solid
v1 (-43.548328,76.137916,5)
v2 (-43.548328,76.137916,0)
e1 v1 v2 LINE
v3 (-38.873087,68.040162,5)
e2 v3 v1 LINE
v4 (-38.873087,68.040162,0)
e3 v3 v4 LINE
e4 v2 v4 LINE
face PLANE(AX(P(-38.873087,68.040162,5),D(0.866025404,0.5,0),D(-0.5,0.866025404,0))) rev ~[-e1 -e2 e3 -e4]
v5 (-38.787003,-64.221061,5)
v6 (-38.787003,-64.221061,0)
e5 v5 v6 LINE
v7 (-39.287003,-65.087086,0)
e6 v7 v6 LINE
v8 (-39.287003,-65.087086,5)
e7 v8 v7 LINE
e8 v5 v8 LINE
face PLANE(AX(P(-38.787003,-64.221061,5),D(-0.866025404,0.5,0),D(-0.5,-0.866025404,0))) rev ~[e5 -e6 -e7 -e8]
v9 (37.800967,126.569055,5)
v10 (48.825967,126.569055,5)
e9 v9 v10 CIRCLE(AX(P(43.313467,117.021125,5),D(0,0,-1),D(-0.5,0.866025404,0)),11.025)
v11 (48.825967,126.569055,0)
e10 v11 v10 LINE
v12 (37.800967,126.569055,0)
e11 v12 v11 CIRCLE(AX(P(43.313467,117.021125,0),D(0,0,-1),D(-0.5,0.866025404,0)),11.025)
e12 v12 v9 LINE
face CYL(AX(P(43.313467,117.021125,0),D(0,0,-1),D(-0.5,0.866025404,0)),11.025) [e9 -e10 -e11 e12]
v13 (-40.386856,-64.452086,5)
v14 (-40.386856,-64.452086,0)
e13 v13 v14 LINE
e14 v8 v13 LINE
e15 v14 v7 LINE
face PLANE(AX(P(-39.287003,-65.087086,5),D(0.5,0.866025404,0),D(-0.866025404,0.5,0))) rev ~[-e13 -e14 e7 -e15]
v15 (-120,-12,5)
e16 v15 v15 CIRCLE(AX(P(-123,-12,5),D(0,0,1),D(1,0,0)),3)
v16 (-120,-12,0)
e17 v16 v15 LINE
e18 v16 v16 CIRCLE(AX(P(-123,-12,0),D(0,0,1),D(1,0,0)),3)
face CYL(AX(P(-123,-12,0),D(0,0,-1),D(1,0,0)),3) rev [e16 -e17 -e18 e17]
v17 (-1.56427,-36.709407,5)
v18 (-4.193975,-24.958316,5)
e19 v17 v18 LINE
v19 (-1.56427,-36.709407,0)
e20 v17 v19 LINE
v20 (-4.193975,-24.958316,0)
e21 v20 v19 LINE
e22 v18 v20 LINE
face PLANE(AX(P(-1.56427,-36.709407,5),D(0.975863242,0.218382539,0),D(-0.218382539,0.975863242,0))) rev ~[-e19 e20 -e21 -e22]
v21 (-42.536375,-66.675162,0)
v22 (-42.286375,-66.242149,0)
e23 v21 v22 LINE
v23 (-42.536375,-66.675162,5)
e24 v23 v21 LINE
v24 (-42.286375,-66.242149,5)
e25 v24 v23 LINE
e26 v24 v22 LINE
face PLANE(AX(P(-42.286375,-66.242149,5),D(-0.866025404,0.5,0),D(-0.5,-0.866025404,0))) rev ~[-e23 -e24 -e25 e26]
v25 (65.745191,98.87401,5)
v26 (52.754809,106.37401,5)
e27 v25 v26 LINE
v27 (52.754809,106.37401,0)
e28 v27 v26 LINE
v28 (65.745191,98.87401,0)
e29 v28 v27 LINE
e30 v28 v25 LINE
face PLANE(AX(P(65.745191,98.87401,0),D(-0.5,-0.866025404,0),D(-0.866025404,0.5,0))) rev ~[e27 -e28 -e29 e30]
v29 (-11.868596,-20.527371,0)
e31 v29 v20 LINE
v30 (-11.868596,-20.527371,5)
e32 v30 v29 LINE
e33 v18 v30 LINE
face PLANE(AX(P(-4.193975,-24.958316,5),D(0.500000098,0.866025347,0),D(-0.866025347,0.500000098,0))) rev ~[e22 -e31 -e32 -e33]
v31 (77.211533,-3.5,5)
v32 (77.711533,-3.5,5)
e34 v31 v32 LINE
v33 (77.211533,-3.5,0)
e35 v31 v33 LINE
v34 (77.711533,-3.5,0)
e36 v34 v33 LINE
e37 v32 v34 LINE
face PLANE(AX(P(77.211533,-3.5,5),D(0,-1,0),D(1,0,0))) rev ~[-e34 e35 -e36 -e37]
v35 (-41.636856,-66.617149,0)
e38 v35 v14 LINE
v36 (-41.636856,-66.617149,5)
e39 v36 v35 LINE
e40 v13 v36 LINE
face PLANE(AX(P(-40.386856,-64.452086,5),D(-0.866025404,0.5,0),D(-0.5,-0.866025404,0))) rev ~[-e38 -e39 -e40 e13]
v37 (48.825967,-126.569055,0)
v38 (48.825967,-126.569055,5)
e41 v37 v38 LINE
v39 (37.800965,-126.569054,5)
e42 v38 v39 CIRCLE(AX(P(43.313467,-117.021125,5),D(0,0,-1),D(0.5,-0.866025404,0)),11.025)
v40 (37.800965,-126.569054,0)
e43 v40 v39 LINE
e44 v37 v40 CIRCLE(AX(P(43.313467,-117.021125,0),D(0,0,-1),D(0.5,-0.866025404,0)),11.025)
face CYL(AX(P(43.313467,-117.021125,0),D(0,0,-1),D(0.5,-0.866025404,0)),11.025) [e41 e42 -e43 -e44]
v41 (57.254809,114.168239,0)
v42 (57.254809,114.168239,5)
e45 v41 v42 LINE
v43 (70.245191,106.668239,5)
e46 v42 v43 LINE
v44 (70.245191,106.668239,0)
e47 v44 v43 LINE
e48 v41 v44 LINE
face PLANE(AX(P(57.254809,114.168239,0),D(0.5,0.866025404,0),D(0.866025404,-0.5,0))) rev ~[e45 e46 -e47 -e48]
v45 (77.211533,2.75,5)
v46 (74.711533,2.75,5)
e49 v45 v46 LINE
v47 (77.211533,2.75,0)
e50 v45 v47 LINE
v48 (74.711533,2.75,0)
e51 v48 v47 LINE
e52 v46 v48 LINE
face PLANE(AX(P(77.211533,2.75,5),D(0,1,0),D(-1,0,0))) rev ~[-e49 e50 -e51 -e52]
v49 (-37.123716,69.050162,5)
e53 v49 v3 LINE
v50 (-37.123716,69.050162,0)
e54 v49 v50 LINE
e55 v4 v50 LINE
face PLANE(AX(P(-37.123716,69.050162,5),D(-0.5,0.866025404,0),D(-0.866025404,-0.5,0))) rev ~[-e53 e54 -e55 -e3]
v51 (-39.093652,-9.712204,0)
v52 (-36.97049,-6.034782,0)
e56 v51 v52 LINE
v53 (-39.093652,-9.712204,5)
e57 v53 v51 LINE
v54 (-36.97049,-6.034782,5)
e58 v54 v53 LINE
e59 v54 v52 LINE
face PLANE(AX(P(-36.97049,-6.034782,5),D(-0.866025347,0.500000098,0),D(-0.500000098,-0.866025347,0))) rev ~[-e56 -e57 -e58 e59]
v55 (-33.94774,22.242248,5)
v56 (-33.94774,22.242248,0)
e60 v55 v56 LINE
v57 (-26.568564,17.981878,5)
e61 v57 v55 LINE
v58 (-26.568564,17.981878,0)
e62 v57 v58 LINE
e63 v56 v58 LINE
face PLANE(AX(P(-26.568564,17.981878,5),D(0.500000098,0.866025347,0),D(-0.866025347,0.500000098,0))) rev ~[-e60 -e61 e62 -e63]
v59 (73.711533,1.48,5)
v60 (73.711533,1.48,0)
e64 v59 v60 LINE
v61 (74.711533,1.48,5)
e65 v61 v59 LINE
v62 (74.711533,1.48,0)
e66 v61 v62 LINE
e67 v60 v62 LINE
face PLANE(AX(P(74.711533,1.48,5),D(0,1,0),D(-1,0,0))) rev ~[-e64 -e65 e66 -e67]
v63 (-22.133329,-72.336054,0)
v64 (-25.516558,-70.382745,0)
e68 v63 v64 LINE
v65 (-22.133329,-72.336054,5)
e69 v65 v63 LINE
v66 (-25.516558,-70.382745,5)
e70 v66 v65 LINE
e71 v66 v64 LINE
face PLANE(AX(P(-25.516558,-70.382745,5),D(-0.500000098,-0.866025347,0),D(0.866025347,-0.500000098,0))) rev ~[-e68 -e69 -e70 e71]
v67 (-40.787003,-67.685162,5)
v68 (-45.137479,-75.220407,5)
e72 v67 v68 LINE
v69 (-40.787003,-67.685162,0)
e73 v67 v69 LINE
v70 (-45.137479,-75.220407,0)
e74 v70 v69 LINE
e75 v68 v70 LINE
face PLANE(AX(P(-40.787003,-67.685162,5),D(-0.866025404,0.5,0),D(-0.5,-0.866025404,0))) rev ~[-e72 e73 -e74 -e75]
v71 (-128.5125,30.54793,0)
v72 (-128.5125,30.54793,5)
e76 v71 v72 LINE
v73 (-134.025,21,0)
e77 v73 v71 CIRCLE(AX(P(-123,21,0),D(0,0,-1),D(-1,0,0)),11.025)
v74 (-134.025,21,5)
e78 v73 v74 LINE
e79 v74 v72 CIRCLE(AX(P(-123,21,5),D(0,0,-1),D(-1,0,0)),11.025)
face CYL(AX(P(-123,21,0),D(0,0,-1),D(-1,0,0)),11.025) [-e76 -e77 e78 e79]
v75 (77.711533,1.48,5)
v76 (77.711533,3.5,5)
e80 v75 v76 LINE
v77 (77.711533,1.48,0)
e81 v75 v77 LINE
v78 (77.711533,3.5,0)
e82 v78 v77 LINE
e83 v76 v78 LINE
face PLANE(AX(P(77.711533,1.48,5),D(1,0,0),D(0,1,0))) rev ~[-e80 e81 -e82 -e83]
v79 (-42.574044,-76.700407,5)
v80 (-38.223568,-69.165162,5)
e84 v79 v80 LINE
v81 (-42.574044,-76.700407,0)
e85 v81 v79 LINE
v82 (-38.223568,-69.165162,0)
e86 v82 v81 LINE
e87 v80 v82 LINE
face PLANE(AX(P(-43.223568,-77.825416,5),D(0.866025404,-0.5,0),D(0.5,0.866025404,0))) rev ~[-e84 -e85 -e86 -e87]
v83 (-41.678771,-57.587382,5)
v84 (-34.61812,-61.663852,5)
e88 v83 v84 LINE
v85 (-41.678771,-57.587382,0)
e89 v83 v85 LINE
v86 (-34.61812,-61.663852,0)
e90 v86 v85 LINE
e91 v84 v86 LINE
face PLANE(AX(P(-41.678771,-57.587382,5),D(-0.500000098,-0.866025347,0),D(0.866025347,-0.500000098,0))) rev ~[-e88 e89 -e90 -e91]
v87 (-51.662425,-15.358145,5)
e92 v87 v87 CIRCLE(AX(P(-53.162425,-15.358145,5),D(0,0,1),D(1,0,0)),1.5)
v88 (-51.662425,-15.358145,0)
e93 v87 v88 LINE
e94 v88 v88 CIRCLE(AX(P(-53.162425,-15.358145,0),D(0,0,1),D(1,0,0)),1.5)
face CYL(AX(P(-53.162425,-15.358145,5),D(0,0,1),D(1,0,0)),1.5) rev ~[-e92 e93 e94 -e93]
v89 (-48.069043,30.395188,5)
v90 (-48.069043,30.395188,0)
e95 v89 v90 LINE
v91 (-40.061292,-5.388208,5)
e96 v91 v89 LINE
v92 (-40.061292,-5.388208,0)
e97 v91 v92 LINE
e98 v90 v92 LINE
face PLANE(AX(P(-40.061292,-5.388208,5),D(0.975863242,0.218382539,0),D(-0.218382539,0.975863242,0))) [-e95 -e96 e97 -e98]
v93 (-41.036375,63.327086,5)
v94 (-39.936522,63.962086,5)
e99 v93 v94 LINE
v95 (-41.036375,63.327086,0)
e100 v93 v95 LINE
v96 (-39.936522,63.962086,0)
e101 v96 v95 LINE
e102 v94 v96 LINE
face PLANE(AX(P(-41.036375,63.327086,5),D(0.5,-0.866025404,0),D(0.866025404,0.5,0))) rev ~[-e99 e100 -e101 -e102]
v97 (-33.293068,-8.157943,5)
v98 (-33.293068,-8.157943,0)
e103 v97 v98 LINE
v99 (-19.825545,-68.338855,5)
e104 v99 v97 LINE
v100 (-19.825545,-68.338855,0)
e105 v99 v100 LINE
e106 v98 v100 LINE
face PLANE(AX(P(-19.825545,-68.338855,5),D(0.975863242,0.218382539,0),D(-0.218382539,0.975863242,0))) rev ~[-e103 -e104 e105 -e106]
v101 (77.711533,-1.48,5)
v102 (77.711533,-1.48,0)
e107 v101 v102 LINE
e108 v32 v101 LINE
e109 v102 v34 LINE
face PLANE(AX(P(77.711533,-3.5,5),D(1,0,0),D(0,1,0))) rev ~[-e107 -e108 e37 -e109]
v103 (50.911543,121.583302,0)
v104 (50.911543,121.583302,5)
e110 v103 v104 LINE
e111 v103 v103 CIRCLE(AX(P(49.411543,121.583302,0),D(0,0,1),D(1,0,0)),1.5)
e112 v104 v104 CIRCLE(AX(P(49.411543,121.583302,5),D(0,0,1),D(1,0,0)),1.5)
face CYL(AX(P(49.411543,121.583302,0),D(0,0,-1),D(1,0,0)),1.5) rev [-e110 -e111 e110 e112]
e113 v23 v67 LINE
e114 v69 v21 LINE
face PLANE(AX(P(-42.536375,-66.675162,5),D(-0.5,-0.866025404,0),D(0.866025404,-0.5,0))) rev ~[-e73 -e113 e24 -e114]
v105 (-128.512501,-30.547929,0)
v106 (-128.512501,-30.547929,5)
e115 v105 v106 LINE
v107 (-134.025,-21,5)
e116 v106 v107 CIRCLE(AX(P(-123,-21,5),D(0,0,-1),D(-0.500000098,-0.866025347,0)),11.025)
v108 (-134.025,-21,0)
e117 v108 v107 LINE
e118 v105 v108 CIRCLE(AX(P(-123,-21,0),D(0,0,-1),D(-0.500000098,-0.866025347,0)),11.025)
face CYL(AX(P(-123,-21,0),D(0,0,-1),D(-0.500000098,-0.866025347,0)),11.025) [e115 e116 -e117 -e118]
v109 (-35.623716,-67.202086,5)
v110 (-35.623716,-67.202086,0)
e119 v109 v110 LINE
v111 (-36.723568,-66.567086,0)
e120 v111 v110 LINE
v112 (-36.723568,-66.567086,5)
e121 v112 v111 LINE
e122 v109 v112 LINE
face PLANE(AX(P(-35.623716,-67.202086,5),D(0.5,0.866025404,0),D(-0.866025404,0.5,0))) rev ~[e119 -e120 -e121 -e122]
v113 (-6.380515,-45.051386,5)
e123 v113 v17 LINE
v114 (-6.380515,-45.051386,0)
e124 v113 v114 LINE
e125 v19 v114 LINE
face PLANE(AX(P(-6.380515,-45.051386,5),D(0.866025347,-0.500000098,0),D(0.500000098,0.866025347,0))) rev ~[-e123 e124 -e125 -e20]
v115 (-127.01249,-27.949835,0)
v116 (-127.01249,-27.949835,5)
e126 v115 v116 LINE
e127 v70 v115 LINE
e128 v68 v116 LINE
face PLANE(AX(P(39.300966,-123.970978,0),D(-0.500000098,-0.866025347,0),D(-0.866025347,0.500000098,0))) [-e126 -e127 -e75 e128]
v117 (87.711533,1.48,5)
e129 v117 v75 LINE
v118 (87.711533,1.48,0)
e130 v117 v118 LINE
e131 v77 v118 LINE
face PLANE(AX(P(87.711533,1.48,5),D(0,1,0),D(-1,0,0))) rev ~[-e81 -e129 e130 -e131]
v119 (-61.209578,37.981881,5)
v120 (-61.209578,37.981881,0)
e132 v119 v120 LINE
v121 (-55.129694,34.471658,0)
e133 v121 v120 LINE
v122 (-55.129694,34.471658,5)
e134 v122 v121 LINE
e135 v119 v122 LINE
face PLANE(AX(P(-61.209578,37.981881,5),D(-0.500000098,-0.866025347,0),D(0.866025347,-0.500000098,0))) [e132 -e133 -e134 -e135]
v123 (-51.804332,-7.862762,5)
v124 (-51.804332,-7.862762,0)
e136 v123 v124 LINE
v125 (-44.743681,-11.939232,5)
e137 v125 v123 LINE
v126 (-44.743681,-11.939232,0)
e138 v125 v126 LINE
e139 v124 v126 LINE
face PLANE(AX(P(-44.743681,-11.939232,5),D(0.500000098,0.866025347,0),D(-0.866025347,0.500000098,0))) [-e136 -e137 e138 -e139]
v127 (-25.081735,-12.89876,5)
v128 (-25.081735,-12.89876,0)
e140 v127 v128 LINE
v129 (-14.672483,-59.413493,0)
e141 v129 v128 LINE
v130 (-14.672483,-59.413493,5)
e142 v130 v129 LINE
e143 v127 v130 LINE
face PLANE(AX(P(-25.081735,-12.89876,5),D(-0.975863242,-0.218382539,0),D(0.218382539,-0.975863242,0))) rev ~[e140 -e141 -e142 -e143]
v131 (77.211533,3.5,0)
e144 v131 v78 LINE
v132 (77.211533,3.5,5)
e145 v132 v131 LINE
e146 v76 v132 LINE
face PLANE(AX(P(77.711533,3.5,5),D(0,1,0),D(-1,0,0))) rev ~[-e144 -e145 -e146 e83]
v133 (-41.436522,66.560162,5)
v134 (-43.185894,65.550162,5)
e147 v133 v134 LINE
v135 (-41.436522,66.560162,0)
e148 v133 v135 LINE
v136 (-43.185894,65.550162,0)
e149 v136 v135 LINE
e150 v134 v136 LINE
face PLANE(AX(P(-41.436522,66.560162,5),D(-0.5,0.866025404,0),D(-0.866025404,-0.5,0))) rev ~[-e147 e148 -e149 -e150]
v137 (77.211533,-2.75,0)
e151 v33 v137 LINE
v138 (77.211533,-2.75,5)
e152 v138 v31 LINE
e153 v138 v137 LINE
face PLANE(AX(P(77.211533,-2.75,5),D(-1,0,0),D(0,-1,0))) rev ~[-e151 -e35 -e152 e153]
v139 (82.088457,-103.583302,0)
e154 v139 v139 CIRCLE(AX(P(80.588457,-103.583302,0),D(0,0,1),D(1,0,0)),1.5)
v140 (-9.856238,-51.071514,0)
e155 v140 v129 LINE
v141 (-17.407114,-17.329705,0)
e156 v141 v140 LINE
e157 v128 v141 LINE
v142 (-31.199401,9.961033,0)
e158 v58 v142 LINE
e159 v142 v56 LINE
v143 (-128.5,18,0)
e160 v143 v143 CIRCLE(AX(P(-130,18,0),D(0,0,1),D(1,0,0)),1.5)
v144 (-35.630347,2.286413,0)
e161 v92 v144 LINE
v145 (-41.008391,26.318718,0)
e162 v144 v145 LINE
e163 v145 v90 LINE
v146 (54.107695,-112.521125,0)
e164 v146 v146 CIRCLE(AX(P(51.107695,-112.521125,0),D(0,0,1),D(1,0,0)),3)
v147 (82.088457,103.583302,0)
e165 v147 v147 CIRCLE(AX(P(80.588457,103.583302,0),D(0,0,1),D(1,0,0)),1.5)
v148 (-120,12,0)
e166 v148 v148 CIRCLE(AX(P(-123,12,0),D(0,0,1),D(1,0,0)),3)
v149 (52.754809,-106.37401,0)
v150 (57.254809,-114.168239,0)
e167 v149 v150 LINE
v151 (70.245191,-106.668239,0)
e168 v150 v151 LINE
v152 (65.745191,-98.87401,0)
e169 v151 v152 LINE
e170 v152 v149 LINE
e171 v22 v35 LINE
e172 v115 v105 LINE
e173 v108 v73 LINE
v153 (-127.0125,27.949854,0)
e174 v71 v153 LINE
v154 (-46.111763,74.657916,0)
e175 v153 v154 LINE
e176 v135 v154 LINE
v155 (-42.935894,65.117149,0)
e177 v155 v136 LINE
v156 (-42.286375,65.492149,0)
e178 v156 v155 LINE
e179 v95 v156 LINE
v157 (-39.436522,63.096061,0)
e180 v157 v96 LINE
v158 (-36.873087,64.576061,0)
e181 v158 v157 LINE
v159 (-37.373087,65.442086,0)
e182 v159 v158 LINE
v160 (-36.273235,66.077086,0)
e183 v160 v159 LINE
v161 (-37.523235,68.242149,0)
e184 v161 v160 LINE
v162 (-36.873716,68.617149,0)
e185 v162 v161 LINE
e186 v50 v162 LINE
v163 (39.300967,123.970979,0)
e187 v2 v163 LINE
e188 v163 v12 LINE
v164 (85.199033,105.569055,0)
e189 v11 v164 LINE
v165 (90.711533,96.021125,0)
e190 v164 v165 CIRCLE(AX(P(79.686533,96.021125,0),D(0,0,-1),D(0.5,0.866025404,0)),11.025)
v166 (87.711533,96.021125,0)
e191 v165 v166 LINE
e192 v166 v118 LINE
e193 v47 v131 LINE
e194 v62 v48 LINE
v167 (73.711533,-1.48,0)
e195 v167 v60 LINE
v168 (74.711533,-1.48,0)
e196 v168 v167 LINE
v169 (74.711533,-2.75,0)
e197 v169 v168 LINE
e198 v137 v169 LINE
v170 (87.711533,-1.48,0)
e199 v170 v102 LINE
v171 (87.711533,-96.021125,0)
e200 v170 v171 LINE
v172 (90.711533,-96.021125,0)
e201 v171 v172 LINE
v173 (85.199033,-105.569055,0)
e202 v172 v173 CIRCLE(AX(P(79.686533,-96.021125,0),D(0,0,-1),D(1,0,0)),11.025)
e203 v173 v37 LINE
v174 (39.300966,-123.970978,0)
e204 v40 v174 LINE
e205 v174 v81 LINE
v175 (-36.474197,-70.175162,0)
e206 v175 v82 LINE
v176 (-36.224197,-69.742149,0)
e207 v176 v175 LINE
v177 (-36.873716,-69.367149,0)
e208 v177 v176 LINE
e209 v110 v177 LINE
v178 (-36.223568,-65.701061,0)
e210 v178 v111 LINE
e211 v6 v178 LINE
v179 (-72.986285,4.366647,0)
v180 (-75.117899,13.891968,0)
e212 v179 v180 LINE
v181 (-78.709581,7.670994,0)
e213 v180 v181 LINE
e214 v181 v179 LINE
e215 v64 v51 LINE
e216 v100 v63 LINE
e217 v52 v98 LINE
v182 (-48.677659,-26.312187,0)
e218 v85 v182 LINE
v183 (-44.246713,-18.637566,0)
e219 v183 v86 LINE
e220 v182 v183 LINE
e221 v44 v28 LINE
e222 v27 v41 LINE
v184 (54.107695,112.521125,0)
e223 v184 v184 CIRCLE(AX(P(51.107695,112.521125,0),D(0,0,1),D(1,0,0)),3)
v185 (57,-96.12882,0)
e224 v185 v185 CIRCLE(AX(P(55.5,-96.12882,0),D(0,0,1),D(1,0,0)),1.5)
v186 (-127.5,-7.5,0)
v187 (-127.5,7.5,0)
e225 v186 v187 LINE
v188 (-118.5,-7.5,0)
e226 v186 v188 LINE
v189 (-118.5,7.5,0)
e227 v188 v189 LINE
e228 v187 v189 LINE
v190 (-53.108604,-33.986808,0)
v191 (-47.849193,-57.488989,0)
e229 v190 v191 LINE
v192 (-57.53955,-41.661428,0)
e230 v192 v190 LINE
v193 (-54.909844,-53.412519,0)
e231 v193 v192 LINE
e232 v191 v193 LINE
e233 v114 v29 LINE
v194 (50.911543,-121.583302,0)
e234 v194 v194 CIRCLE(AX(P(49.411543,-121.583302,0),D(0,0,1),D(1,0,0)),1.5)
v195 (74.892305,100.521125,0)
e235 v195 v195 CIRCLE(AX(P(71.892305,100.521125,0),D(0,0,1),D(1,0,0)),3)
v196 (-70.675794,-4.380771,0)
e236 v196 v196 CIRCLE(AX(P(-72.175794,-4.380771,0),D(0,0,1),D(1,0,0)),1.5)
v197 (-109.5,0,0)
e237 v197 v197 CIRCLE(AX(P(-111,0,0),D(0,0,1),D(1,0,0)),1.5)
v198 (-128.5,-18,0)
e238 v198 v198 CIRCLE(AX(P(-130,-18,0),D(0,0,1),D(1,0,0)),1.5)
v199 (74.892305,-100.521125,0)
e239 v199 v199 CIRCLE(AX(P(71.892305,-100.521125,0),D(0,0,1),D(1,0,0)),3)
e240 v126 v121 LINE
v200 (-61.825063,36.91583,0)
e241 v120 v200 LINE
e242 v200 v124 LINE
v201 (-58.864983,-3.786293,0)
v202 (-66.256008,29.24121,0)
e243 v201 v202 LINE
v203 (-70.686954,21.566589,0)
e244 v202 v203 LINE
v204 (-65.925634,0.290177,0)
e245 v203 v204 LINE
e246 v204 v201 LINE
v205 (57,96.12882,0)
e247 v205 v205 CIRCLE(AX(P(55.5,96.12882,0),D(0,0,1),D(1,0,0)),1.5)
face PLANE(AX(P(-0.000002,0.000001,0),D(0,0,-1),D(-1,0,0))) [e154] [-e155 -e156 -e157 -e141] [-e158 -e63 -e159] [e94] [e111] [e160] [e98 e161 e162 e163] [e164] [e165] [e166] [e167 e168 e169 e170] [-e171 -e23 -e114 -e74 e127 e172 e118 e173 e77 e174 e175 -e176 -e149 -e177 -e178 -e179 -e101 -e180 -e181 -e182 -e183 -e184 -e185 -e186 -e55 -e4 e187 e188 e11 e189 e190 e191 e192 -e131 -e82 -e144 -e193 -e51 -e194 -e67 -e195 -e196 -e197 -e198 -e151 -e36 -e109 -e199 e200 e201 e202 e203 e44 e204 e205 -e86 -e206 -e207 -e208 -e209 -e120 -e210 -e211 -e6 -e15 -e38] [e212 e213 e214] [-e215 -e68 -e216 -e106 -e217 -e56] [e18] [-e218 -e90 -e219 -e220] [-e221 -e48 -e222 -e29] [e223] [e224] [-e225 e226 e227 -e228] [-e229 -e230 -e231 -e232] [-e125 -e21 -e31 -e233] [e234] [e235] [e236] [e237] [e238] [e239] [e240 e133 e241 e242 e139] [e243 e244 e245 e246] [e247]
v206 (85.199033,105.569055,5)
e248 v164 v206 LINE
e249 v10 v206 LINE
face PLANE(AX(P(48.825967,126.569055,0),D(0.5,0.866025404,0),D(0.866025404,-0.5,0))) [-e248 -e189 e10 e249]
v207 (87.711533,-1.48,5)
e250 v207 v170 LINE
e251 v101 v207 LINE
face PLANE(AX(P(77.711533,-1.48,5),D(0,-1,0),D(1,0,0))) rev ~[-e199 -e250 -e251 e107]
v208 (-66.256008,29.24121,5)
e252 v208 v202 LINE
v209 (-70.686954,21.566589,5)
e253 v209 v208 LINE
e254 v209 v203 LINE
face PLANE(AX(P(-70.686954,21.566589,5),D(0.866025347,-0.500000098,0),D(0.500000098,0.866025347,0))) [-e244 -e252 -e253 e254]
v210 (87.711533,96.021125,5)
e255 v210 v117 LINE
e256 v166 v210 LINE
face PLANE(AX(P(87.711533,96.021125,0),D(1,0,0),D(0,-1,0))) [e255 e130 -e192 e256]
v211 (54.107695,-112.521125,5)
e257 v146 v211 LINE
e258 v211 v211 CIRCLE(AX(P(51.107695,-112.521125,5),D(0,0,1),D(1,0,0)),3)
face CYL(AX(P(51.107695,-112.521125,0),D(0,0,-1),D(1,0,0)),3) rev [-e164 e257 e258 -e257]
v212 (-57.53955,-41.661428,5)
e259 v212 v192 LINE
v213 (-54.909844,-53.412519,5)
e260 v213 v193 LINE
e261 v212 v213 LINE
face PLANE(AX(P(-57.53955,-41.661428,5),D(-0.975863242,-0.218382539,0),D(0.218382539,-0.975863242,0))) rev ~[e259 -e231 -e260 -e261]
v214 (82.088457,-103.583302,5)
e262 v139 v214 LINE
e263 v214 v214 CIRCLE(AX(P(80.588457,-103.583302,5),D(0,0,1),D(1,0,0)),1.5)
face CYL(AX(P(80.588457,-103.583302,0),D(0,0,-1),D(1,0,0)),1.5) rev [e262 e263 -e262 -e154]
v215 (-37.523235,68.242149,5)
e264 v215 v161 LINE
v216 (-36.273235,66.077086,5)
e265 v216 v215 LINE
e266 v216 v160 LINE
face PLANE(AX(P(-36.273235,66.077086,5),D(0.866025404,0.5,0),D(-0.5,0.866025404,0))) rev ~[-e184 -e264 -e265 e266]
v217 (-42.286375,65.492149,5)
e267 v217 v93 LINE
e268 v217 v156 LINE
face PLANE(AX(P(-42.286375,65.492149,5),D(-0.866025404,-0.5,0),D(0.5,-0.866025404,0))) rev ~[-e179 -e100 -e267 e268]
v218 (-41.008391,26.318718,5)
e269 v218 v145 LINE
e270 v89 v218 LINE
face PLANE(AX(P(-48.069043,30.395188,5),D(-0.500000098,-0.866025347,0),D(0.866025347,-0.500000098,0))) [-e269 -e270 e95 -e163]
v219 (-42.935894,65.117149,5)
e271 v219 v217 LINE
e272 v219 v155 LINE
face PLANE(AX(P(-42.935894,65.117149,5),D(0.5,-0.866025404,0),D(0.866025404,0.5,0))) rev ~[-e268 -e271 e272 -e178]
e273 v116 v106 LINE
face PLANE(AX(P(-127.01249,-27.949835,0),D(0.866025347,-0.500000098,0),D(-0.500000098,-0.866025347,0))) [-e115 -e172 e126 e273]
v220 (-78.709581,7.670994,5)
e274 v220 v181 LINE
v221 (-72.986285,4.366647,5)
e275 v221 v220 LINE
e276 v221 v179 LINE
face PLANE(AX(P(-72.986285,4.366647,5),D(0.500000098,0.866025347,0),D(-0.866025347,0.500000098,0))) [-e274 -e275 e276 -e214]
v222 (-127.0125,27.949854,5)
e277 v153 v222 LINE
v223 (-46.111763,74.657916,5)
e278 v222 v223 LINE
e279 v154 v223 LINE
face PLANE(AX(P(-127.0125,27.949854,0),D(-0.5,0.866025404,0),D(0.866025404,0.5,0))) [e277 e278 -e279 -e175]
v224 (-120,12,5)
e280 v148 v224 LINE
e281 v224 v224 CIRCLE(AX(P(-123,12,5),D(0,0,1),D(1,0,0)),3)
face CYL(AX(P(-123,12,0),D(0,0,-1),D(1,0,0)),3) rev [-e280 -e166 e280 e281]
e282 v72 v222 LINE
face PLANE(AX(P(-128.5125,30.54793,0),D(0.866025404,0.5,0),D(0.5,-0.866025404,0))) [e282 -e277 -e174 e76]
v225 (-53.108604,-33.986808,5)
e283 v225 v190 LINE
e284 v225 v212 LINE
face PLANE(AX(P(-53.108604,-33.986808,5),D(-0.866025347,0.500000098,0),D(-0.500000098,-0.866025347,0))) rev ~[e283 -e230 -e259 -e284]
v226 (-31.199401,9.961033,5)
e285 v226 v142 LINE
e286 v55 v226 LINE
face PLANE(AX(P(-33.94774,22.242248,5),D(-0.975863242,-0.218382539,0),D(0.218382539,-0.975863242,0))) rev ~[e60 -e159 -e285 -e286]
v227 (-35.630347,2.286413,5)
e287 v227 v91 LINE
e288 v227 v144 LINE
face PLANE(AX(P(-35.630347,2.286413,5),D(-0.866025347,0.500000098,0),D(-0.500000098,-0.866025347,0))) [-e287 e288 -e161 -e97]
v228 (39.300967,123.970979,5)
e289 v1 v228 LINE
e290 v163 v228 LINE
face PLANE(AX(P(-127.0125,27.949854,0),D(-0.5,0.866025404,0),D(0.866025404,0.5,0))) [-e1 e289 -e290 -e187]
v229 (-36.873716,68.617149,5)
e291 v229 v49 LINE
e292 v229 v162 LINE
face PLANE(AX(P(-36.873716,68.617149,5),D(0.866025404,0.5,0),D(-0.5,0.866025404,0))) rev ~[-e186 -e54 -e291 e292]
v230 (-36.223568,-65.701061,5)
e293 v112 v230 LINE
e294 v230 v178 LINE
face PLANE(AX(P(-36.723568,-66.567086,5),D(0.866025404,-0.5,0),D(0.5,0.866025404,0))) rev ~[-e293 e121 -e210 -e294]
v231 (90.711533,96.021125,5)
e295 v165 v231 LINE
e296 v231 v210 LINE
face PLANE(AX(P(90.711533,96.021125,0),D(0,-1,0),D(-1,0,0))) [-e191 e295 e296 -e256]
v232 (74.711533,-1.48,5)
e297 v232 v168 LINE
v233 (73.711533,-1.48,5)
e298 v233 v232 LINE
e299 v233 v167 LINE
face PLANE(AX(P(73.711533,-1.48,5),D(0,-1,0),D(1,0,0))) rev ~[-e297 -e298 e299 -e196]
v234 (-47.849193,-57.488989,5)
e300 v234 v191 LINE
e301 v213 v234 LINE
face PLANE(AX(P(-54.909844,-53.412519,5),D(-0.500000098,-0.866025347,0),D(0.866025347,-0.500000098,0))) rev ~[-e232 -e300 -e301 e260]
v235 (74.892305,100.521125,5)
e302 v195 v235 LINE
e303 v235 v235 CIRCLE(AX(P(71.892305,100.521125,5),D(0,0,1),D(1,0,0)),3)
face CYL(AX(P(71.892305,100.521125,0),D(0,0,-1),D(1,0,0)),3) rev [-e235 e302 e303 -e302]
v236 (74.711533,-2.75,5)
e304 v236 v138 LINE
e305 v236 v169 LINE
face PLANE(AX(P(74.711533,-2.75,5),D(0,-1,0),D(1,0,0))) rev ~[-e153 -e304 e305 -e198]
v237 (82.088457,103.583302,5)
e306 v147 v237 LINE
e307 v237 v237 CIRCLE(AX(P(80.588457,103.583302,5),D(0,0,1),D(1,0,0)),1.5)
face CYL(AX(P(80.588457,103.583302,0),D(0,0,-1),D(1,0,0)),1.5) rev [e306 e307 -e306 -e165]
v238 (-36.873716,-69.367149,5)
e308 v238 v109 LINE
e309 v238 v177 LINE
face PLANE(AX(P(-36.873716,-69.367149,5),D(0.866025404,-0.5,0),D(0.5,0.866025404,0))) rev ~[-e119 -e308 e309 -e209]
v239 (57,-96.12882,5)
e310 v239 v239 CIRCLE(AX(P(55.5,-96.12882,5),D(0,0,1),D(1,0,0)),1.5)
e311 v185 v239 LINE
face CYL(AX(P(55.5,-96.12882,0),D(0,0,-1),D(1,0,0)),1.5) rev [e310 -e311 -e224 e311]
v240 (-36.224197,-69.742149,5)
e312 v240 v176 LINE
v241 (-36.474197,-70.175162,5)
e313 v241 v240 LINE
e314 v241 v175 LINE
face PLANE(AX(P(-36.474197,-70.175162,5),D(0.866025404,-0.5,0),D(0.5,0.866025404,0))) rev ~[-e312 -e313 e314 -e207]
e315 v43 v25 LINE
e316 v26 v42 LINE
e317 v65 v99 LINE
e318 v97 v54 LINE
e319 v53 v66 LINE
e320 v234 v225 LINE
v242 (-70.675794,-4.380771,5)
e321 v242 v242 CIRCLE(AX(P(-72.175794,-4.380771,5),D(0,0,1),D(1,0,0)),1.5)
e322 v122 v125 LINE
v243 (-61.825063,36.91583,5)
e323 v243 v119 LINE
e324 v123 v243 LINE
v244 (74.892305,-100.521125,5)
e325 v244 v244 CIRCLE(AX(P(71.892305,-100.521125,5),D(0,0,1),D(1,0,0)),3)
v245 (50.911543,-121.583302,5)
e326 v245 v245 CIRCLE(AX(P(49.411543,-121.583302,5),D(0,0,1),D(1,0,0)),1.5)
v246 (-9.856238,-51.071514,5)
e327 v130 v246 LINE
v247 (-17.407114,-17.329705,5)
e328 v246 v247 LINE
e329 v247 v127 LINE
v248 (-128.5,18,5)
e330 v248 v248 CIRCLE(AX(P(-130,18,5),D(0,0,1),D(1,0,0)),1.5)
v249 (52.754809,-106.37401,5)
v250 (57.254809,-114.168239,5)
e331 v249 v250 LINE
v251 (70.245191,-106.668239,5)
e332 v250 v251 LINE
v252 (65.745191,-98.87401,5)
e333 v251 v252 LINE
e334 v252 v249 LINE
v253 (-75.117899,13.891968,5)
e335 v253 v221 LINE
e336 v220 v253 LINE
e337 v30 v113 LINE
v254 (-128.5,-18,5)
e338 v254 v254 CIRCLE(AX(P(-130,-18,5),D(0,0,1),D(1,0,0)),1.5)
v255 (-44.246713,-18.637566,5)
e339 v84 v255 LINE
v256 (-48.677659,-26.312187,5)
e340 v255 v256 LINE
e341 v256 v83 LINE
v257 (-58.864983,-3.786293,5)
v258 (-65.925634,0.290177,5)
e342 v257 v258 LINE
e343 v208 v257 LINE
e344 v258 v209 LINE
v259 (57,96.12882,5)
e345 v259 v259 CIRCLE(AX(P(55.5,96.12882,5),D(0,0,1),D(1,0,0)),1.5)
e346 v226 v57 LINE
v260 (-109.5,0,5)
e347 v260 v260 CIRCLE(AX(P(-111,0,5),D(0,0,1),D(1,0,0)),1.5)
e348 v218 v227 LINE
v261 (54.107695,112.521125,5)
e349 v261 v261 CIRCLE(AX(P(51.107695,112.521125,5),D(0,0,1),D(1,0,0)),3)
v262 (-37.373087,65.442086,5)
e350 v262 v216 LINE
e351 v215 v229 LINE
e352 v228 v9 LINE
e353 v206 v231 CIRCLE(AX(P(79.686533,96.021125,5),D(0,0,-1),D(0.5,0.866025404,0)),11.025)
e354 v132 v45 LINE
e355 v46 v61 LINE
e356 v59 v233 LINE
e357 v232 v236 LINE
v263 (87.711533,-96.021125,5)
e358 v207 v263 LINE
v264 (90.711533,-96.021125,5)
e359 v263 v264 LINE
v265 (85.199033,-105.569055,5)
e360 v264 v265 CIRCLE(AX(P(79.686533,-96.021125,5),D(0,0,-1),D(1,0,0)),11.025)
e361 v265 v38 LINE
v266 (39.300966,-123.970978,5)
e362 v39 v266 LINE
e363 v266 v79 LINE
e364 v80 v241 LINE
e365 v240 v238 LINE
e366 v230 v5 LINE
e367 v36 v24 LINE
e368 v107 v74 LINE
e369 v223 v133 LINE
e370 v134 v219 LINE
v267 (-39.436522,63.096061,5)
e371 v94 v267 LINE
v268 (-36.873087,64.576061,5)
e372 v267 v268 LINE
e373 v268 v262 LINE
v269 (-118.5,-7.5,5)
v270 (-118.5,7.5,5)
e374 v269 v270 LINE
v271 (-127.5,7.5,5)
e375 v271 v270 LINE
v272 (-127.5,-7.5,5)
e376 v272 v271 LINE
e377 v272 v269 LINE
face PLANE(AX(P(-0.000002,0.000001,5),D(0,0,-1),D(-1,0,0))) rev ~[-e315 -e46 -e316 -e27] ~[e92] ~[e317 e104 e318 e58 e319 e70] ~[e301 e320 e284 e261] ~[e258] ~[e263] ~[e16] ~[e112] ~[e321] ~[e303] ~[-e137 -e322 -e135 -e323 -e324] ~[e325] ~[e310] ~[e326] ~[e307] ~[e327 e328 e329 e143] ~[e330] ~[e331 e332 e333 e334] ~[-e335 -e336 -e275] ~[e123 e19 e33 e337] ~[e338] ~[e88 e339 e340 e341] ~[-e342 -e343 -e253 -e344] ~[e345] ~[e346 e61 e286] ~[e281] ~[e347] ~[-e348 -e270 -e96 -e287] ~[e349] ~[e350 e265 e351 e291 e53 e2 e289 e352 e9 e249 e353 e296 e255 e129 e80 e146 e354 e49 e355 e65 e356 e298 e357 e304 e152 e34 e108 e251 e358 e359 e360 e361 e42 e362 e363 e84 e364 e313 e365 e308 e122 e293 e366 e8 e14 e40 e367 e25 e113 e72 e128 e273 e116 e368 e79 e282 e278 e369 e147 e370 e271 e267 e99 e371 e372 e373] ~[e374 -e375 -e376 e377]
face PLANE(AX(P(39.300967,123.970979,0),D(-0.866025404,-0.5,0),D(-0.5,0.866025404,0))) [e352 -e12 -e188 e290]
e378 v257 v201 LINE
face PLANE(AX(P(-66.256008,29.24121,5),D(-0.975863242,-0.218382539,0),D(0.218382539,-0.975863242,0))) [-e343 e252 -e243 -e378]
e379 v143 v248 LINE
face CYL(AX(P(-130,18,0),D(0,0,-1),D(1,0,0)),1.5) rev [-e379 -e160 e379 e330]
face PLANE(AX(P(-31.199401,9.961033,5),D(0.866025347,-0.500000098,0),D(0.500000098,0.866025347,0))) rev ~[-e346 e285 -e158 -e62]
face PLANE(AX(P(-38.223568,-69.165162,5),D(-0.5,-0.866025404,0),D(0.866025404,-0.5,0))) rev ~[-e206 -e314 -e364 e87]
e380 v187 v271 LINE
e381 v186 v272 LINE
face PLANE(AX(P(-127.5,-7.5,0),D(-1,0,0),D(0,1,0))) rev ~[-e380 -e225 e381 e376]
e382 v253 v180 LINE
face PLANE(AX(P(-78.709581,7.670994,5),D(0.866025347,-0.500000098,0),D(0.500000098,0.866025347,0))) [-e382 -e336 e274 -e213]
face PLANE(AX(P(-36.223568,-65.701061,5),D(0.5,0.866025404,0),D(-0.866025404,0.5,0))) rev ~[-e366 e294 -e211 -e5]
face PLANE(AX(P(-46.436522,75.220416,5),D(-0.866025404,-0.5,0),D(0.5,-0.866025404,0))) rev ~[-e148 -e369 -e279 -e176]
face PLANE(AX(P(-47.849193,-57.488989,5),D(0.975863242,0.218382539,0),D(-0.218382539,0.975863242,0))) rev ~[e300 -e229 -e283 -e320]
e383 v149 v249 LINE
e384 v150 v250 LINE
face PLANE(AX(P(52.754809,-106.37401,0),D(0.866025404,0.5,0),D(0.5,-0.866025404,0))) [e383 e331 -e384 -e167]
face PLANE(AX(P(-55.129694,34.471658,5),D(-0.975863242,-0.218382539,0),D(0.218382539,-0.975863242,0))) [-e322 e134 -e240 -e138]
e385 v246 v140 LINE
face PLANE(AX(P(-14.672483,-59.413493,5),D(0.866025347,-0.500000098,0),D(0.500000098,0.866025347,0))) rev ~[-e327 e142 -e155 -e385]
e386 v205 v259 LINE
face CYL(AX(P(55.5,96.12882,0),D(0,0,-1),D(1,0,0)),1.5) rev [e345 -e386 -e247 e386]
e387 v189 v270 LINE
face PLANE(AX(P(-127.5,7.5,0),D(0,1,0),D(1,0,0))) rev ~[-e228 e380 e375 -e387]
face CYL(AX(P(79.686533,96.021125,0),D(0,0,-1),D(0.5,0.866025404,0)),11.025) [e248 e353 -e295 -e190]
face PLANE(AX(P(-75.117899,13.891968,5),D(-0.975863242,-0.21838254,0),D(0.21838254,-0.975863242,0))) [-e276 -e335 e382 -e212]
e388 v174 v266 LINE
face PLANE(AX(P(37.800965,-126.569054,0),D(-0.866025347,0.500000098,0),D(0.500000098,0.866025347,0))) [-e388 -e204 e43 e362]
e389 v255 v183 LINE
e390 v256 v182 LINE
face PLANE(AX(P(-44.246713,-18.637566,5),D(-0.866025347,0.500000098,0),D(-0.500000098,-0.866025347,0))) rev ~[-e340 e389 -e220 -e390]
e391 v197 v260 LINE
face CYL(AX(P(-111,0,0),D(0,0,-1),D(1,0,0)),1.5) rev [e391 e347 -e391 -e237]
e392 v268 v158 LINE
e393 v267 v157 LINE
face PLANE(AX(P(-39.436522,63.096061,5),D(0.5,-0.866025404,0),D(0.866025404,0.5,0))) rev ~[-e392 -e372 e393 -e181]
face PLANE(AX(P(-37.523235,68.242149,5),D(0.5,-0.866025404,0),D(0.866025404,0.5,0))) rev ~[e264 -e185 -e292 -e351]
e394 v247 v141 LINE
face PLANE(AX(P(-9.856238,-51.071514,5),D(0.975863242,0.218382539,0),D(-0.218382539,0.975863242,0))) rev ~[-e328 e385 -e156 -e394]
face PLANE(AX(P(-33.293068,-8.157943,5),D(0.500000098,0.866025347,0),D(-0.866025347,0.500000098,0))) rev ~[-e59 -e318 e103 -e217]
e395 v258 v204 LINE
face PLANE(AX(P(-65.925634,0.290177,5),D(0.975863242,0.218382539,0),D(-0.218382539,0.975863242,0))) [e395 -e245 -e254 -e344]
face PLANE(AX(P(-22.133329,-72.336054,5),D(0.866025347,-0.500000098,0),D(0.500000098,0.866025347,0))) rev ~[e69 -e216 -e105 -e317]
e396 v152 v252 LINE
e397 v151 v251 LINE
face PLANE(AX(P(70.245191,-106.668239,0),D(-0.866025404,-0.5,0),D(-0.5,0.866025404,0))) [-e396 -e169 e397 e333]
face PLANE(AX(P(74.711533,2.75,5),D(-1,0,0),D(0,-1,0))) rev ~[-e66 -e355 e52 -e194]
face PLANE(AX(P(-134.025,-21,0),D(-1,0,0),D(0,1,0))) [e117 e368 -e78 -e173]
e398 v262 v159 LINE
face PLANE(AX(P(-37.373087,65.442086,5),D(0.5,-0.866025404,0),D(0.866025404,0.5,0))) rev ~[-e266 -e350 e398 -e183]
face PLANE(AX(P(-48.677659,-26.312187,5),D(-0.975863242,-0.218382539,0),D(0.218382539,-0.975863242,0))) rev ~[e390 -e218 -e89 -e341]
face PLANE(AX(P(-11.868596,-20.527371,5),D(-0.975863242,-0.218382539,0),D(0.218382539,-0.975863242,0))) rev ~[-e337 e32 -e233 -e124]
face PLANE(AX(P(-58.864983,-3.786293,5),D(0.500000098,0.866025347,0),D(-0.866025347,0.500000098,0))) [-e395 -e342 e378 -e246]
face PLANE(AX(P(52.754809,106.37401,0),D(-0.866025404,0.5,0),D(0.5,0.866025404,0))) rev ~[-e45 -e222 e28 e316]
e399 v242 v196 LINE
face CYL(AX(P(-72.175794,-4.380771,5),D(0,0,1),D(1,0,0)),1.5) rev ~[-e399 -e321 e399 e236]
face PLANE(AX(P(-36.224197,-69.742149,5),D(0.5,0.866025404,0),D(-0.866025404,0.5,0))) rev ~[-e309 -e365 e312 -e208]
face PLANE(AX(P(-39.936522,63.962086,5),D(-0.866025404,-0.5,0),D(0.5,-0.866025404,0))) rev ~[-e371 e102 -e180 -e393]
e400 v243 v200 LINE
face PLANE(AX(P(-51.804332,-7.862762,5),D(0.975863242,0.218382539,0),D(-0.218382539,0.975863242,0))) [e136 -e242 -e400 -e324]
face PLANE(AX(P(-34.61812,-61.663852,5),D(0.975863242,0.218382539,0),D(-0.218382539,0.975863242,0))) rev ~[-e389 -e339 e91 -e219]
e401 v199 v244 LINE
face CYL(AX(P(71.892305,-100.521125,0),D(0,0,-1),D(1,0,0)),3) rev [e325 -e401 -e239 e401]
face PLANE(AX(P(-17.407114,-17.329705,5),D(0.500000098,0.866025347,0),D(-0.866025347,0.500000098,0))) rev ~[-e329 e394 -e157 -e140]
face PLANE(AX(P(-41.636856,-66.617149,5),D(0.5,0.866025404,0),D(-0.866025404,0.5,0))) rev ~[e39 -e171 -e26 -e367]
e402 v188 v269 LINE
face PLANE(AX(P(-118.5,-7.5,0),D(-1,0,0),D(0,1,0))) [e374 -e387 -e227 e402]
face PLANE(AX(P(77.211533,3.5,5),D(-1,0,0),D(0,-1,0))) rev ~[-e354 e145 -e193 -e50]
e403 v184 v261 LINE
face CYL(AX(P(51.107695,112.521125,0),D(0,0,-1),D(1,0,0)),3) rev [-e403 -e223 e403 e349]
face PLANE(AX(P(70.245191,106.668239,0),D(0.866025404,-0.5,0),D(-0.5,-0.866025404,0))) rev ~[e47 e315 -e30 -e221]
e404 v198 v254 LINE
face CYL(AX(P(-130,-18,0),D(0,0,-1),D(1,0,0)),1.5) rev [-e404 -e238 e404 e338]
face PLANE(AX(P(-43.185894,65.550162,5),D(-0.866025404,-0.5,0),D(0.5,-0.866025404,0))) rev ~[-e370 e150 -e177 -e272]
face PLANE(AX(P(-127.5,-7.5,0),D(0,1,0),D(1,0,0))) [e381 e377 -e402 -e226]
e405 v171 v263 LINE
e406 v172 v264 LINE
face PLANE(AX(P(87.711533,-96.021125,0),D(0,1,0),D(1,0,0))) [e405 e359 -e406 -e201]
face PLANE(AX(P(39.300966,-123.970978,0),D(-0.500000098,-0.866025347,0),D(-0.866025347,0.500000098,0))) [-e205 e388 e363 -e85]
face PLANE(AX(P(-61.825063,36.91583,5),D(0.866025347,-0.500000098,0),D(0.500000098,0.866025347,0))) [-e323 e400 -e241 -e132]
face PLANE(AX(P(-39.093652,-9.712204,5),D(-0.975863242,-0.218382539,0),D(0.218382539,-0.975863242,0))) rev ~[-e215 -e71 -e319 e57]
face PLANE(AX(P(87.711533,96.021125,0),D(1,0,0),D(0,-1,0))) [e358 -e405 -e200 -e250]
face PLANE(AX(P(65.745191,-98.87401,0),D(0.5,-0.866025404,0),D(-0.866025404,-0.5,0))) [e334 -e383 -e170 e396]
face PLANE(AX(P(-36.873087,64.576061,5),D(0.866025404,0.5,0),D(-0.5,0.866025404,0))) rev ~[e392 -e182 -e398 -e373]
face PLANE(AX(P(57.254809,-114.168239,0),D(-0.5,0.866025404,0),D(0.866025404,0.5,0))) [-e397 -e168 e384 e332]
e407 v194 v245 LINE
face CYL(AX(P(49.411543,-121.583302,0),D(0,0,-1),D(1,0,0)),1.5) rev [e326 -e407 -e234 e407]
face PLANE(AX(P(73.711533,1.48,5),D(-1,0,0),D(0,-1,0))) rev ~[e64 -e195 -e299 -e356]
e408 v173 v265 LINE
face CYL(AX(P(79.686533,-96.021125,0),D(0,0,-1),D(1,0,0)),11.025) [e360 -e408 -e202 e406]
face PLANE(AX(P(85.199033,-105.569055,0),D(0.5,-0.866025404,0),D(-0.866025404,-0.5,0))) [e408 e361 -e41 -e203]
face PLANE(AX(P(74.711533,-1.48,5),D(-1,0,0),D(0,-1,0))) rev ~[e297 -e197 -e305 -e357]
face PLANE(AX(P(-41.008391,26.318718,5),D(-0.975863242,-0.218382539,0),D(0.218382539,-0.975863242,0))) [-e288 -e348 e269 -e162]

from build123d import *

# Parameters (mm, degrees)
SKETCH1_R           = 3
SKETCH1_R_2         = 1.5
SKETCH1_W           = 9
SKETCH1_H           = 15
BOSS_EXTRUDE1_DEPTH = 5
CUT_EXTRUDE1_DEPTH  = 6
CUT_EXTRUDE2_DEPTH  = 6
CUT_EXTRUDE3_DEPTH  = 10
SKETCH4_R           = 1.5
CUT_EXTRUDE4_DEPTH  = 10


with BuildPart() as part:
    # Sketch1 → Boss-Extrude1 (new body)
    with BuildSketch(Plane.XY):
        with BuildLine():
            Line((-127.0125, 27.949853865), (39.300966521, 123.970978531))
            Line((39.300966521, 123.970978531), (37.800966521, 126.569054742))
            ThreePointArc((37.800966521, 126.569054742), (43.313466521, 128.046124665), (48.825966521, 126.569054742))
            Line((48.825966521, 126.569054742), (85.199033479, 105.569054742))
            ThreePointArc((85.199033479, 105.569054742), (89.234463556, 101.533624665), (90.711533479, 96.021124665))
            Line((90.711533479, 96.021124665), (87.711533479, 96.021124665))
            Line((87.711533479, 96.021124665), (87.711533479, -96.021124665))
            Line((87.711533479, -96.021124665), (90.711533479, -96.021124665))
            ThreePointArc((90.711533479, -96.021124665), (89.234463556, -101.533624665), (85.199033479, -105.569054742))
            Line((85.199033479, -105.569054742), (48.825966521, -126.569054742))
            ThreePointArc((48.825966521, -126.569054742), (43.313465898, -128.046124665), (37.800965443, -126.56905412))
            Line((37.800965443, -126.56905412), (39.300965736, -123.970978078))
            Line((39.300965736, -123.970978078), (-127.012489947, -27.949834641))
            Line((-127.012489947, -27.949834641), (-128.512501078, -30.547929455))
            ThreePointArc((-128.512501078, -30.547929455), (-132.547930388, -26.512499461), (-134.025, -21))
            Line((-134.025, -21), (-134.025, 21))
            ThreePointArc((-134.025, 21), (-132.547930077, 26.5125), (-128.5125, 30.547930077))
            Line((-128.5125, 30.547930077), (-127.0125, 27.949853865))
        make_face()
        with Locations((-123, 12)):
            Circle(SKETCH1_R, mode=Mode.SUBTRACT)
        with Locations((-123, -12)):
            Circle(SKETCH1_R, mode=Mode.SUBTRACT)
        with Locations((71.892304845, 100.521124665)):
            Circle(SKETCH1_R, mode=Mode.SUBTRACT)
        with Locations((51.107695155, 112.521124665)):
            Circle(SKETCH1_R, mode=Mode.SUBTRACT)
        with Locations((51.107695155, -112.521124665)):
            Circle(SKETCH1_R, mode=Mode.SUBTRACT)
        with Locations((71.892304845, -100.521124665)):
            Circle(SKETCH1_R, mode=Mode.SUBTRACT)
        with Locations((-111, 0)):
            Circle(SKETCH1_R_2, mode=Mode.SUBTRACT)
        with Locations((55.5, 96.12881982)):
            Circle(SKETCH1_R_2, mode=Mode.SUBTRACT)
        with Locations((55.5, -96.12881982)):
            Circle(SKETCH1_R_2, mode=Mode.SUBTRACT)
        with Locations((-130, 18)):
            Circle(SKETCH1_R_2, mode=Mode.SUBTRACT)
        with Locations((-130, -18)):
            Circle(SKETCH1_R_2, mode=Mode.SUBTRACT)
        with Locations((80.588457268, 103.583302492)):
            Circle(SKETCH1_R_2, mode=Mode.SUBTRACT)
        with Locations((49.411542732, 121.583302492)):
            Circle(SKETCH1_R_2, mode=Mode.SUBTRACT)
        with Locations((49.411542732, -121.583302492)):
            Circle(SKETCH1_R_2, mode=Mode.SUBTRACT)
        with Locations((80.588457268, -103.583302492)):
            Circle(SKETCH1_R_2, mode=Mode.SUBTRACT)
        Polygon((57.254809472, -114.168238983), (70.245190528, -106.668238983), (65.745190528, -98.874010348), (52.754809472, -106.374010348), align=None, mode=Mode.SUBTRACT)
        with Locations((-123, 0)):
            Rectangle(SKETCH1_W, SKETCH1_H, mode=Mode.SUBTRACT)
        Polygon((65.745190528, 98.874010348), (52.754809472, 106.374010348), (57.254809472, 114.168238983), (70.245190528, 106.668238983), align=None, mode=Mode.SUBTRACT)
    extrude(amount=BOSS_EXTRUDE1_DEPTH)

    # Sketch2 → Cut-Extrude1 (cut, through all)
    with BuildSketch(Plane.XY.offset(5)):
        Polygon((87.711533479, 1.48), (77.711533479, 1.48), (77.711533479, 3.5), (77.211533479, 3.5), (77.211533479, 2.75), (74.711533479, 2.75), (74.711533479, 1.48), (73.711533479, 1.48), (73.711533479, -1.48), (74.711533479, -1.48), (74.711533479, -2.75), (77.211533479, -2.75), (77.211533479, -3.5), (77.711533479, -3.5), (77.711533479, -1.48), (87.711533479, -1.48), align=None)
        Polygon((-43.223568195, -77.825416198), (-38.223568195, -69.16516216), (-36.474196879, -70.17516216), (-36.224196879, -69.742149458), (-36.873715932, -69.367149458), (-35.623715932, -67.202085949), (-36.723568195, -66.567085949), (-36.223568195, -65.701060545), (-38.78700339, -64.221060545), (-39.28700339, -65.087085949), (-40.386855653, -64.452085949), (-41.636855653, -66.617149458), (-42.286374706, -66.242149458), (-42.536374706, -66.67516216), (-40.78700339, -67.68516216), (-45.78700339, -76.345416198), align=None)
        Polygon((-46.436522443, 75.220416198), (-41.436522443, 66.56016216), (-43.185893759, 65.55016216), (-42.935893759, 65.117149458), (-42.286374706, 65.492149458), (-41.036374706, 63.327085949), (-39.936522443, 63.962085949), (-39.436522443, 63.096060545), (-36.873087248, 64.576060545), (-37.373087248, 65.442085949), (-36.273234985, 66.077085949), (-37.523234985, 68.242149458), (-36.873715932, 68.617149458), (-37.123715932, 69.05016216), (-38.873087248, 68.04016216), (-43.873087248, 76.700416198), align=None)
    extrude(amount=-CUT_EXTRUDE1_DEPTH, mode=Mode.SUBTRACT)

    # Sketch3 → Cut-Extrude2 (cut, through all)
    with BuildSketch(Plane.XY.offset(5)):
        Polygon((-57.539549529, -41.661428389), (-54.909843958, -53.412518972), (-47.84919289, -57.488988829), (-53.108604032, -33.986807663), align=None)
        Polygon((-48.677658535, -26.312186937), (-41.678771487, -57.587382375), (-34.618120419, -61.663852232), (-44.246713038, -18.637566211), align=None)
        Polygon((-39.093651522, -9.712204179), (-25.516557684, -70.382745138), (-22.133329048, -72.336053611), (-19.825544935, -68.338855316), (-33.293067707, -8.157943131), (-36.970490138, -6.034781747), align=None)
        Polygon((-25.081734637, -12.898759725), (-14.672483419, -59.413493284), (-9.856238314, -51.071514234), (-17.407113911, -17.329705222), align=None)
        Polygon((-11.868595954, -20.527370889), (-6.380514763, -45.05138602), (-1.564269657, -36.70940697), (-4.193975228, -24.958316386), align=None)
    extrude(amount=-CUT_EXTRUDE2_DEPTH, mode=Mode.SUBTRACT)

    # Sketch5 → Cut-Extrude3 (cut)
    with BuildSketch(Plane.XY.offset(5)):
        Polygon((-40.061292463, -5.388208187), (-48.069042542, 30.395188095), (-41.008391474, 26.318718238), (-35.630346966, 2.286412538), align=None)
        Polygon((-66.256008164, 29.241209516), (-58.864982983, -3.786292638), (-65.92563405, 0.290177219), (-70.686953661, 21.56658879), align=None)
        Polygon((-33.947740407, 22.242248381), (-31.199401469, 9.961033264), (-26.568563639, 17.981877577), align=None)
        Polygon((-55.12969361, 34.471657952), (-44.743680847, -11.939232352), (-51.804331915, -7.862762495), (-61.825062667, 36.915830242), (-61.209577533, 37.981881487), align=None)
        Polygon((-75.117899158, 13.891968064), (-72.986285118, 4.366647077), (-78.709580954, 7.670994329), align=None)
    extrude(amount=-CUT_EXTRUDE3_DEPTH, mode=Mode.SUBTRACT)

    # Sketch4 → Cut-Extrude4 (cut)
    with BuildSketch(Plane.XY.offset(5)):
        with Locations((-72.175794174, -4.380771204)):
            Circle(SKETCH4_R)
        with Locations((-53.162424939, -15.35814505)):
            Circle(SKETCH4_R)
    extrude(amount=-CUT_EXTRUDE4_DEPTH, mode=Mode.SUBTRACT)


solid = part.part
